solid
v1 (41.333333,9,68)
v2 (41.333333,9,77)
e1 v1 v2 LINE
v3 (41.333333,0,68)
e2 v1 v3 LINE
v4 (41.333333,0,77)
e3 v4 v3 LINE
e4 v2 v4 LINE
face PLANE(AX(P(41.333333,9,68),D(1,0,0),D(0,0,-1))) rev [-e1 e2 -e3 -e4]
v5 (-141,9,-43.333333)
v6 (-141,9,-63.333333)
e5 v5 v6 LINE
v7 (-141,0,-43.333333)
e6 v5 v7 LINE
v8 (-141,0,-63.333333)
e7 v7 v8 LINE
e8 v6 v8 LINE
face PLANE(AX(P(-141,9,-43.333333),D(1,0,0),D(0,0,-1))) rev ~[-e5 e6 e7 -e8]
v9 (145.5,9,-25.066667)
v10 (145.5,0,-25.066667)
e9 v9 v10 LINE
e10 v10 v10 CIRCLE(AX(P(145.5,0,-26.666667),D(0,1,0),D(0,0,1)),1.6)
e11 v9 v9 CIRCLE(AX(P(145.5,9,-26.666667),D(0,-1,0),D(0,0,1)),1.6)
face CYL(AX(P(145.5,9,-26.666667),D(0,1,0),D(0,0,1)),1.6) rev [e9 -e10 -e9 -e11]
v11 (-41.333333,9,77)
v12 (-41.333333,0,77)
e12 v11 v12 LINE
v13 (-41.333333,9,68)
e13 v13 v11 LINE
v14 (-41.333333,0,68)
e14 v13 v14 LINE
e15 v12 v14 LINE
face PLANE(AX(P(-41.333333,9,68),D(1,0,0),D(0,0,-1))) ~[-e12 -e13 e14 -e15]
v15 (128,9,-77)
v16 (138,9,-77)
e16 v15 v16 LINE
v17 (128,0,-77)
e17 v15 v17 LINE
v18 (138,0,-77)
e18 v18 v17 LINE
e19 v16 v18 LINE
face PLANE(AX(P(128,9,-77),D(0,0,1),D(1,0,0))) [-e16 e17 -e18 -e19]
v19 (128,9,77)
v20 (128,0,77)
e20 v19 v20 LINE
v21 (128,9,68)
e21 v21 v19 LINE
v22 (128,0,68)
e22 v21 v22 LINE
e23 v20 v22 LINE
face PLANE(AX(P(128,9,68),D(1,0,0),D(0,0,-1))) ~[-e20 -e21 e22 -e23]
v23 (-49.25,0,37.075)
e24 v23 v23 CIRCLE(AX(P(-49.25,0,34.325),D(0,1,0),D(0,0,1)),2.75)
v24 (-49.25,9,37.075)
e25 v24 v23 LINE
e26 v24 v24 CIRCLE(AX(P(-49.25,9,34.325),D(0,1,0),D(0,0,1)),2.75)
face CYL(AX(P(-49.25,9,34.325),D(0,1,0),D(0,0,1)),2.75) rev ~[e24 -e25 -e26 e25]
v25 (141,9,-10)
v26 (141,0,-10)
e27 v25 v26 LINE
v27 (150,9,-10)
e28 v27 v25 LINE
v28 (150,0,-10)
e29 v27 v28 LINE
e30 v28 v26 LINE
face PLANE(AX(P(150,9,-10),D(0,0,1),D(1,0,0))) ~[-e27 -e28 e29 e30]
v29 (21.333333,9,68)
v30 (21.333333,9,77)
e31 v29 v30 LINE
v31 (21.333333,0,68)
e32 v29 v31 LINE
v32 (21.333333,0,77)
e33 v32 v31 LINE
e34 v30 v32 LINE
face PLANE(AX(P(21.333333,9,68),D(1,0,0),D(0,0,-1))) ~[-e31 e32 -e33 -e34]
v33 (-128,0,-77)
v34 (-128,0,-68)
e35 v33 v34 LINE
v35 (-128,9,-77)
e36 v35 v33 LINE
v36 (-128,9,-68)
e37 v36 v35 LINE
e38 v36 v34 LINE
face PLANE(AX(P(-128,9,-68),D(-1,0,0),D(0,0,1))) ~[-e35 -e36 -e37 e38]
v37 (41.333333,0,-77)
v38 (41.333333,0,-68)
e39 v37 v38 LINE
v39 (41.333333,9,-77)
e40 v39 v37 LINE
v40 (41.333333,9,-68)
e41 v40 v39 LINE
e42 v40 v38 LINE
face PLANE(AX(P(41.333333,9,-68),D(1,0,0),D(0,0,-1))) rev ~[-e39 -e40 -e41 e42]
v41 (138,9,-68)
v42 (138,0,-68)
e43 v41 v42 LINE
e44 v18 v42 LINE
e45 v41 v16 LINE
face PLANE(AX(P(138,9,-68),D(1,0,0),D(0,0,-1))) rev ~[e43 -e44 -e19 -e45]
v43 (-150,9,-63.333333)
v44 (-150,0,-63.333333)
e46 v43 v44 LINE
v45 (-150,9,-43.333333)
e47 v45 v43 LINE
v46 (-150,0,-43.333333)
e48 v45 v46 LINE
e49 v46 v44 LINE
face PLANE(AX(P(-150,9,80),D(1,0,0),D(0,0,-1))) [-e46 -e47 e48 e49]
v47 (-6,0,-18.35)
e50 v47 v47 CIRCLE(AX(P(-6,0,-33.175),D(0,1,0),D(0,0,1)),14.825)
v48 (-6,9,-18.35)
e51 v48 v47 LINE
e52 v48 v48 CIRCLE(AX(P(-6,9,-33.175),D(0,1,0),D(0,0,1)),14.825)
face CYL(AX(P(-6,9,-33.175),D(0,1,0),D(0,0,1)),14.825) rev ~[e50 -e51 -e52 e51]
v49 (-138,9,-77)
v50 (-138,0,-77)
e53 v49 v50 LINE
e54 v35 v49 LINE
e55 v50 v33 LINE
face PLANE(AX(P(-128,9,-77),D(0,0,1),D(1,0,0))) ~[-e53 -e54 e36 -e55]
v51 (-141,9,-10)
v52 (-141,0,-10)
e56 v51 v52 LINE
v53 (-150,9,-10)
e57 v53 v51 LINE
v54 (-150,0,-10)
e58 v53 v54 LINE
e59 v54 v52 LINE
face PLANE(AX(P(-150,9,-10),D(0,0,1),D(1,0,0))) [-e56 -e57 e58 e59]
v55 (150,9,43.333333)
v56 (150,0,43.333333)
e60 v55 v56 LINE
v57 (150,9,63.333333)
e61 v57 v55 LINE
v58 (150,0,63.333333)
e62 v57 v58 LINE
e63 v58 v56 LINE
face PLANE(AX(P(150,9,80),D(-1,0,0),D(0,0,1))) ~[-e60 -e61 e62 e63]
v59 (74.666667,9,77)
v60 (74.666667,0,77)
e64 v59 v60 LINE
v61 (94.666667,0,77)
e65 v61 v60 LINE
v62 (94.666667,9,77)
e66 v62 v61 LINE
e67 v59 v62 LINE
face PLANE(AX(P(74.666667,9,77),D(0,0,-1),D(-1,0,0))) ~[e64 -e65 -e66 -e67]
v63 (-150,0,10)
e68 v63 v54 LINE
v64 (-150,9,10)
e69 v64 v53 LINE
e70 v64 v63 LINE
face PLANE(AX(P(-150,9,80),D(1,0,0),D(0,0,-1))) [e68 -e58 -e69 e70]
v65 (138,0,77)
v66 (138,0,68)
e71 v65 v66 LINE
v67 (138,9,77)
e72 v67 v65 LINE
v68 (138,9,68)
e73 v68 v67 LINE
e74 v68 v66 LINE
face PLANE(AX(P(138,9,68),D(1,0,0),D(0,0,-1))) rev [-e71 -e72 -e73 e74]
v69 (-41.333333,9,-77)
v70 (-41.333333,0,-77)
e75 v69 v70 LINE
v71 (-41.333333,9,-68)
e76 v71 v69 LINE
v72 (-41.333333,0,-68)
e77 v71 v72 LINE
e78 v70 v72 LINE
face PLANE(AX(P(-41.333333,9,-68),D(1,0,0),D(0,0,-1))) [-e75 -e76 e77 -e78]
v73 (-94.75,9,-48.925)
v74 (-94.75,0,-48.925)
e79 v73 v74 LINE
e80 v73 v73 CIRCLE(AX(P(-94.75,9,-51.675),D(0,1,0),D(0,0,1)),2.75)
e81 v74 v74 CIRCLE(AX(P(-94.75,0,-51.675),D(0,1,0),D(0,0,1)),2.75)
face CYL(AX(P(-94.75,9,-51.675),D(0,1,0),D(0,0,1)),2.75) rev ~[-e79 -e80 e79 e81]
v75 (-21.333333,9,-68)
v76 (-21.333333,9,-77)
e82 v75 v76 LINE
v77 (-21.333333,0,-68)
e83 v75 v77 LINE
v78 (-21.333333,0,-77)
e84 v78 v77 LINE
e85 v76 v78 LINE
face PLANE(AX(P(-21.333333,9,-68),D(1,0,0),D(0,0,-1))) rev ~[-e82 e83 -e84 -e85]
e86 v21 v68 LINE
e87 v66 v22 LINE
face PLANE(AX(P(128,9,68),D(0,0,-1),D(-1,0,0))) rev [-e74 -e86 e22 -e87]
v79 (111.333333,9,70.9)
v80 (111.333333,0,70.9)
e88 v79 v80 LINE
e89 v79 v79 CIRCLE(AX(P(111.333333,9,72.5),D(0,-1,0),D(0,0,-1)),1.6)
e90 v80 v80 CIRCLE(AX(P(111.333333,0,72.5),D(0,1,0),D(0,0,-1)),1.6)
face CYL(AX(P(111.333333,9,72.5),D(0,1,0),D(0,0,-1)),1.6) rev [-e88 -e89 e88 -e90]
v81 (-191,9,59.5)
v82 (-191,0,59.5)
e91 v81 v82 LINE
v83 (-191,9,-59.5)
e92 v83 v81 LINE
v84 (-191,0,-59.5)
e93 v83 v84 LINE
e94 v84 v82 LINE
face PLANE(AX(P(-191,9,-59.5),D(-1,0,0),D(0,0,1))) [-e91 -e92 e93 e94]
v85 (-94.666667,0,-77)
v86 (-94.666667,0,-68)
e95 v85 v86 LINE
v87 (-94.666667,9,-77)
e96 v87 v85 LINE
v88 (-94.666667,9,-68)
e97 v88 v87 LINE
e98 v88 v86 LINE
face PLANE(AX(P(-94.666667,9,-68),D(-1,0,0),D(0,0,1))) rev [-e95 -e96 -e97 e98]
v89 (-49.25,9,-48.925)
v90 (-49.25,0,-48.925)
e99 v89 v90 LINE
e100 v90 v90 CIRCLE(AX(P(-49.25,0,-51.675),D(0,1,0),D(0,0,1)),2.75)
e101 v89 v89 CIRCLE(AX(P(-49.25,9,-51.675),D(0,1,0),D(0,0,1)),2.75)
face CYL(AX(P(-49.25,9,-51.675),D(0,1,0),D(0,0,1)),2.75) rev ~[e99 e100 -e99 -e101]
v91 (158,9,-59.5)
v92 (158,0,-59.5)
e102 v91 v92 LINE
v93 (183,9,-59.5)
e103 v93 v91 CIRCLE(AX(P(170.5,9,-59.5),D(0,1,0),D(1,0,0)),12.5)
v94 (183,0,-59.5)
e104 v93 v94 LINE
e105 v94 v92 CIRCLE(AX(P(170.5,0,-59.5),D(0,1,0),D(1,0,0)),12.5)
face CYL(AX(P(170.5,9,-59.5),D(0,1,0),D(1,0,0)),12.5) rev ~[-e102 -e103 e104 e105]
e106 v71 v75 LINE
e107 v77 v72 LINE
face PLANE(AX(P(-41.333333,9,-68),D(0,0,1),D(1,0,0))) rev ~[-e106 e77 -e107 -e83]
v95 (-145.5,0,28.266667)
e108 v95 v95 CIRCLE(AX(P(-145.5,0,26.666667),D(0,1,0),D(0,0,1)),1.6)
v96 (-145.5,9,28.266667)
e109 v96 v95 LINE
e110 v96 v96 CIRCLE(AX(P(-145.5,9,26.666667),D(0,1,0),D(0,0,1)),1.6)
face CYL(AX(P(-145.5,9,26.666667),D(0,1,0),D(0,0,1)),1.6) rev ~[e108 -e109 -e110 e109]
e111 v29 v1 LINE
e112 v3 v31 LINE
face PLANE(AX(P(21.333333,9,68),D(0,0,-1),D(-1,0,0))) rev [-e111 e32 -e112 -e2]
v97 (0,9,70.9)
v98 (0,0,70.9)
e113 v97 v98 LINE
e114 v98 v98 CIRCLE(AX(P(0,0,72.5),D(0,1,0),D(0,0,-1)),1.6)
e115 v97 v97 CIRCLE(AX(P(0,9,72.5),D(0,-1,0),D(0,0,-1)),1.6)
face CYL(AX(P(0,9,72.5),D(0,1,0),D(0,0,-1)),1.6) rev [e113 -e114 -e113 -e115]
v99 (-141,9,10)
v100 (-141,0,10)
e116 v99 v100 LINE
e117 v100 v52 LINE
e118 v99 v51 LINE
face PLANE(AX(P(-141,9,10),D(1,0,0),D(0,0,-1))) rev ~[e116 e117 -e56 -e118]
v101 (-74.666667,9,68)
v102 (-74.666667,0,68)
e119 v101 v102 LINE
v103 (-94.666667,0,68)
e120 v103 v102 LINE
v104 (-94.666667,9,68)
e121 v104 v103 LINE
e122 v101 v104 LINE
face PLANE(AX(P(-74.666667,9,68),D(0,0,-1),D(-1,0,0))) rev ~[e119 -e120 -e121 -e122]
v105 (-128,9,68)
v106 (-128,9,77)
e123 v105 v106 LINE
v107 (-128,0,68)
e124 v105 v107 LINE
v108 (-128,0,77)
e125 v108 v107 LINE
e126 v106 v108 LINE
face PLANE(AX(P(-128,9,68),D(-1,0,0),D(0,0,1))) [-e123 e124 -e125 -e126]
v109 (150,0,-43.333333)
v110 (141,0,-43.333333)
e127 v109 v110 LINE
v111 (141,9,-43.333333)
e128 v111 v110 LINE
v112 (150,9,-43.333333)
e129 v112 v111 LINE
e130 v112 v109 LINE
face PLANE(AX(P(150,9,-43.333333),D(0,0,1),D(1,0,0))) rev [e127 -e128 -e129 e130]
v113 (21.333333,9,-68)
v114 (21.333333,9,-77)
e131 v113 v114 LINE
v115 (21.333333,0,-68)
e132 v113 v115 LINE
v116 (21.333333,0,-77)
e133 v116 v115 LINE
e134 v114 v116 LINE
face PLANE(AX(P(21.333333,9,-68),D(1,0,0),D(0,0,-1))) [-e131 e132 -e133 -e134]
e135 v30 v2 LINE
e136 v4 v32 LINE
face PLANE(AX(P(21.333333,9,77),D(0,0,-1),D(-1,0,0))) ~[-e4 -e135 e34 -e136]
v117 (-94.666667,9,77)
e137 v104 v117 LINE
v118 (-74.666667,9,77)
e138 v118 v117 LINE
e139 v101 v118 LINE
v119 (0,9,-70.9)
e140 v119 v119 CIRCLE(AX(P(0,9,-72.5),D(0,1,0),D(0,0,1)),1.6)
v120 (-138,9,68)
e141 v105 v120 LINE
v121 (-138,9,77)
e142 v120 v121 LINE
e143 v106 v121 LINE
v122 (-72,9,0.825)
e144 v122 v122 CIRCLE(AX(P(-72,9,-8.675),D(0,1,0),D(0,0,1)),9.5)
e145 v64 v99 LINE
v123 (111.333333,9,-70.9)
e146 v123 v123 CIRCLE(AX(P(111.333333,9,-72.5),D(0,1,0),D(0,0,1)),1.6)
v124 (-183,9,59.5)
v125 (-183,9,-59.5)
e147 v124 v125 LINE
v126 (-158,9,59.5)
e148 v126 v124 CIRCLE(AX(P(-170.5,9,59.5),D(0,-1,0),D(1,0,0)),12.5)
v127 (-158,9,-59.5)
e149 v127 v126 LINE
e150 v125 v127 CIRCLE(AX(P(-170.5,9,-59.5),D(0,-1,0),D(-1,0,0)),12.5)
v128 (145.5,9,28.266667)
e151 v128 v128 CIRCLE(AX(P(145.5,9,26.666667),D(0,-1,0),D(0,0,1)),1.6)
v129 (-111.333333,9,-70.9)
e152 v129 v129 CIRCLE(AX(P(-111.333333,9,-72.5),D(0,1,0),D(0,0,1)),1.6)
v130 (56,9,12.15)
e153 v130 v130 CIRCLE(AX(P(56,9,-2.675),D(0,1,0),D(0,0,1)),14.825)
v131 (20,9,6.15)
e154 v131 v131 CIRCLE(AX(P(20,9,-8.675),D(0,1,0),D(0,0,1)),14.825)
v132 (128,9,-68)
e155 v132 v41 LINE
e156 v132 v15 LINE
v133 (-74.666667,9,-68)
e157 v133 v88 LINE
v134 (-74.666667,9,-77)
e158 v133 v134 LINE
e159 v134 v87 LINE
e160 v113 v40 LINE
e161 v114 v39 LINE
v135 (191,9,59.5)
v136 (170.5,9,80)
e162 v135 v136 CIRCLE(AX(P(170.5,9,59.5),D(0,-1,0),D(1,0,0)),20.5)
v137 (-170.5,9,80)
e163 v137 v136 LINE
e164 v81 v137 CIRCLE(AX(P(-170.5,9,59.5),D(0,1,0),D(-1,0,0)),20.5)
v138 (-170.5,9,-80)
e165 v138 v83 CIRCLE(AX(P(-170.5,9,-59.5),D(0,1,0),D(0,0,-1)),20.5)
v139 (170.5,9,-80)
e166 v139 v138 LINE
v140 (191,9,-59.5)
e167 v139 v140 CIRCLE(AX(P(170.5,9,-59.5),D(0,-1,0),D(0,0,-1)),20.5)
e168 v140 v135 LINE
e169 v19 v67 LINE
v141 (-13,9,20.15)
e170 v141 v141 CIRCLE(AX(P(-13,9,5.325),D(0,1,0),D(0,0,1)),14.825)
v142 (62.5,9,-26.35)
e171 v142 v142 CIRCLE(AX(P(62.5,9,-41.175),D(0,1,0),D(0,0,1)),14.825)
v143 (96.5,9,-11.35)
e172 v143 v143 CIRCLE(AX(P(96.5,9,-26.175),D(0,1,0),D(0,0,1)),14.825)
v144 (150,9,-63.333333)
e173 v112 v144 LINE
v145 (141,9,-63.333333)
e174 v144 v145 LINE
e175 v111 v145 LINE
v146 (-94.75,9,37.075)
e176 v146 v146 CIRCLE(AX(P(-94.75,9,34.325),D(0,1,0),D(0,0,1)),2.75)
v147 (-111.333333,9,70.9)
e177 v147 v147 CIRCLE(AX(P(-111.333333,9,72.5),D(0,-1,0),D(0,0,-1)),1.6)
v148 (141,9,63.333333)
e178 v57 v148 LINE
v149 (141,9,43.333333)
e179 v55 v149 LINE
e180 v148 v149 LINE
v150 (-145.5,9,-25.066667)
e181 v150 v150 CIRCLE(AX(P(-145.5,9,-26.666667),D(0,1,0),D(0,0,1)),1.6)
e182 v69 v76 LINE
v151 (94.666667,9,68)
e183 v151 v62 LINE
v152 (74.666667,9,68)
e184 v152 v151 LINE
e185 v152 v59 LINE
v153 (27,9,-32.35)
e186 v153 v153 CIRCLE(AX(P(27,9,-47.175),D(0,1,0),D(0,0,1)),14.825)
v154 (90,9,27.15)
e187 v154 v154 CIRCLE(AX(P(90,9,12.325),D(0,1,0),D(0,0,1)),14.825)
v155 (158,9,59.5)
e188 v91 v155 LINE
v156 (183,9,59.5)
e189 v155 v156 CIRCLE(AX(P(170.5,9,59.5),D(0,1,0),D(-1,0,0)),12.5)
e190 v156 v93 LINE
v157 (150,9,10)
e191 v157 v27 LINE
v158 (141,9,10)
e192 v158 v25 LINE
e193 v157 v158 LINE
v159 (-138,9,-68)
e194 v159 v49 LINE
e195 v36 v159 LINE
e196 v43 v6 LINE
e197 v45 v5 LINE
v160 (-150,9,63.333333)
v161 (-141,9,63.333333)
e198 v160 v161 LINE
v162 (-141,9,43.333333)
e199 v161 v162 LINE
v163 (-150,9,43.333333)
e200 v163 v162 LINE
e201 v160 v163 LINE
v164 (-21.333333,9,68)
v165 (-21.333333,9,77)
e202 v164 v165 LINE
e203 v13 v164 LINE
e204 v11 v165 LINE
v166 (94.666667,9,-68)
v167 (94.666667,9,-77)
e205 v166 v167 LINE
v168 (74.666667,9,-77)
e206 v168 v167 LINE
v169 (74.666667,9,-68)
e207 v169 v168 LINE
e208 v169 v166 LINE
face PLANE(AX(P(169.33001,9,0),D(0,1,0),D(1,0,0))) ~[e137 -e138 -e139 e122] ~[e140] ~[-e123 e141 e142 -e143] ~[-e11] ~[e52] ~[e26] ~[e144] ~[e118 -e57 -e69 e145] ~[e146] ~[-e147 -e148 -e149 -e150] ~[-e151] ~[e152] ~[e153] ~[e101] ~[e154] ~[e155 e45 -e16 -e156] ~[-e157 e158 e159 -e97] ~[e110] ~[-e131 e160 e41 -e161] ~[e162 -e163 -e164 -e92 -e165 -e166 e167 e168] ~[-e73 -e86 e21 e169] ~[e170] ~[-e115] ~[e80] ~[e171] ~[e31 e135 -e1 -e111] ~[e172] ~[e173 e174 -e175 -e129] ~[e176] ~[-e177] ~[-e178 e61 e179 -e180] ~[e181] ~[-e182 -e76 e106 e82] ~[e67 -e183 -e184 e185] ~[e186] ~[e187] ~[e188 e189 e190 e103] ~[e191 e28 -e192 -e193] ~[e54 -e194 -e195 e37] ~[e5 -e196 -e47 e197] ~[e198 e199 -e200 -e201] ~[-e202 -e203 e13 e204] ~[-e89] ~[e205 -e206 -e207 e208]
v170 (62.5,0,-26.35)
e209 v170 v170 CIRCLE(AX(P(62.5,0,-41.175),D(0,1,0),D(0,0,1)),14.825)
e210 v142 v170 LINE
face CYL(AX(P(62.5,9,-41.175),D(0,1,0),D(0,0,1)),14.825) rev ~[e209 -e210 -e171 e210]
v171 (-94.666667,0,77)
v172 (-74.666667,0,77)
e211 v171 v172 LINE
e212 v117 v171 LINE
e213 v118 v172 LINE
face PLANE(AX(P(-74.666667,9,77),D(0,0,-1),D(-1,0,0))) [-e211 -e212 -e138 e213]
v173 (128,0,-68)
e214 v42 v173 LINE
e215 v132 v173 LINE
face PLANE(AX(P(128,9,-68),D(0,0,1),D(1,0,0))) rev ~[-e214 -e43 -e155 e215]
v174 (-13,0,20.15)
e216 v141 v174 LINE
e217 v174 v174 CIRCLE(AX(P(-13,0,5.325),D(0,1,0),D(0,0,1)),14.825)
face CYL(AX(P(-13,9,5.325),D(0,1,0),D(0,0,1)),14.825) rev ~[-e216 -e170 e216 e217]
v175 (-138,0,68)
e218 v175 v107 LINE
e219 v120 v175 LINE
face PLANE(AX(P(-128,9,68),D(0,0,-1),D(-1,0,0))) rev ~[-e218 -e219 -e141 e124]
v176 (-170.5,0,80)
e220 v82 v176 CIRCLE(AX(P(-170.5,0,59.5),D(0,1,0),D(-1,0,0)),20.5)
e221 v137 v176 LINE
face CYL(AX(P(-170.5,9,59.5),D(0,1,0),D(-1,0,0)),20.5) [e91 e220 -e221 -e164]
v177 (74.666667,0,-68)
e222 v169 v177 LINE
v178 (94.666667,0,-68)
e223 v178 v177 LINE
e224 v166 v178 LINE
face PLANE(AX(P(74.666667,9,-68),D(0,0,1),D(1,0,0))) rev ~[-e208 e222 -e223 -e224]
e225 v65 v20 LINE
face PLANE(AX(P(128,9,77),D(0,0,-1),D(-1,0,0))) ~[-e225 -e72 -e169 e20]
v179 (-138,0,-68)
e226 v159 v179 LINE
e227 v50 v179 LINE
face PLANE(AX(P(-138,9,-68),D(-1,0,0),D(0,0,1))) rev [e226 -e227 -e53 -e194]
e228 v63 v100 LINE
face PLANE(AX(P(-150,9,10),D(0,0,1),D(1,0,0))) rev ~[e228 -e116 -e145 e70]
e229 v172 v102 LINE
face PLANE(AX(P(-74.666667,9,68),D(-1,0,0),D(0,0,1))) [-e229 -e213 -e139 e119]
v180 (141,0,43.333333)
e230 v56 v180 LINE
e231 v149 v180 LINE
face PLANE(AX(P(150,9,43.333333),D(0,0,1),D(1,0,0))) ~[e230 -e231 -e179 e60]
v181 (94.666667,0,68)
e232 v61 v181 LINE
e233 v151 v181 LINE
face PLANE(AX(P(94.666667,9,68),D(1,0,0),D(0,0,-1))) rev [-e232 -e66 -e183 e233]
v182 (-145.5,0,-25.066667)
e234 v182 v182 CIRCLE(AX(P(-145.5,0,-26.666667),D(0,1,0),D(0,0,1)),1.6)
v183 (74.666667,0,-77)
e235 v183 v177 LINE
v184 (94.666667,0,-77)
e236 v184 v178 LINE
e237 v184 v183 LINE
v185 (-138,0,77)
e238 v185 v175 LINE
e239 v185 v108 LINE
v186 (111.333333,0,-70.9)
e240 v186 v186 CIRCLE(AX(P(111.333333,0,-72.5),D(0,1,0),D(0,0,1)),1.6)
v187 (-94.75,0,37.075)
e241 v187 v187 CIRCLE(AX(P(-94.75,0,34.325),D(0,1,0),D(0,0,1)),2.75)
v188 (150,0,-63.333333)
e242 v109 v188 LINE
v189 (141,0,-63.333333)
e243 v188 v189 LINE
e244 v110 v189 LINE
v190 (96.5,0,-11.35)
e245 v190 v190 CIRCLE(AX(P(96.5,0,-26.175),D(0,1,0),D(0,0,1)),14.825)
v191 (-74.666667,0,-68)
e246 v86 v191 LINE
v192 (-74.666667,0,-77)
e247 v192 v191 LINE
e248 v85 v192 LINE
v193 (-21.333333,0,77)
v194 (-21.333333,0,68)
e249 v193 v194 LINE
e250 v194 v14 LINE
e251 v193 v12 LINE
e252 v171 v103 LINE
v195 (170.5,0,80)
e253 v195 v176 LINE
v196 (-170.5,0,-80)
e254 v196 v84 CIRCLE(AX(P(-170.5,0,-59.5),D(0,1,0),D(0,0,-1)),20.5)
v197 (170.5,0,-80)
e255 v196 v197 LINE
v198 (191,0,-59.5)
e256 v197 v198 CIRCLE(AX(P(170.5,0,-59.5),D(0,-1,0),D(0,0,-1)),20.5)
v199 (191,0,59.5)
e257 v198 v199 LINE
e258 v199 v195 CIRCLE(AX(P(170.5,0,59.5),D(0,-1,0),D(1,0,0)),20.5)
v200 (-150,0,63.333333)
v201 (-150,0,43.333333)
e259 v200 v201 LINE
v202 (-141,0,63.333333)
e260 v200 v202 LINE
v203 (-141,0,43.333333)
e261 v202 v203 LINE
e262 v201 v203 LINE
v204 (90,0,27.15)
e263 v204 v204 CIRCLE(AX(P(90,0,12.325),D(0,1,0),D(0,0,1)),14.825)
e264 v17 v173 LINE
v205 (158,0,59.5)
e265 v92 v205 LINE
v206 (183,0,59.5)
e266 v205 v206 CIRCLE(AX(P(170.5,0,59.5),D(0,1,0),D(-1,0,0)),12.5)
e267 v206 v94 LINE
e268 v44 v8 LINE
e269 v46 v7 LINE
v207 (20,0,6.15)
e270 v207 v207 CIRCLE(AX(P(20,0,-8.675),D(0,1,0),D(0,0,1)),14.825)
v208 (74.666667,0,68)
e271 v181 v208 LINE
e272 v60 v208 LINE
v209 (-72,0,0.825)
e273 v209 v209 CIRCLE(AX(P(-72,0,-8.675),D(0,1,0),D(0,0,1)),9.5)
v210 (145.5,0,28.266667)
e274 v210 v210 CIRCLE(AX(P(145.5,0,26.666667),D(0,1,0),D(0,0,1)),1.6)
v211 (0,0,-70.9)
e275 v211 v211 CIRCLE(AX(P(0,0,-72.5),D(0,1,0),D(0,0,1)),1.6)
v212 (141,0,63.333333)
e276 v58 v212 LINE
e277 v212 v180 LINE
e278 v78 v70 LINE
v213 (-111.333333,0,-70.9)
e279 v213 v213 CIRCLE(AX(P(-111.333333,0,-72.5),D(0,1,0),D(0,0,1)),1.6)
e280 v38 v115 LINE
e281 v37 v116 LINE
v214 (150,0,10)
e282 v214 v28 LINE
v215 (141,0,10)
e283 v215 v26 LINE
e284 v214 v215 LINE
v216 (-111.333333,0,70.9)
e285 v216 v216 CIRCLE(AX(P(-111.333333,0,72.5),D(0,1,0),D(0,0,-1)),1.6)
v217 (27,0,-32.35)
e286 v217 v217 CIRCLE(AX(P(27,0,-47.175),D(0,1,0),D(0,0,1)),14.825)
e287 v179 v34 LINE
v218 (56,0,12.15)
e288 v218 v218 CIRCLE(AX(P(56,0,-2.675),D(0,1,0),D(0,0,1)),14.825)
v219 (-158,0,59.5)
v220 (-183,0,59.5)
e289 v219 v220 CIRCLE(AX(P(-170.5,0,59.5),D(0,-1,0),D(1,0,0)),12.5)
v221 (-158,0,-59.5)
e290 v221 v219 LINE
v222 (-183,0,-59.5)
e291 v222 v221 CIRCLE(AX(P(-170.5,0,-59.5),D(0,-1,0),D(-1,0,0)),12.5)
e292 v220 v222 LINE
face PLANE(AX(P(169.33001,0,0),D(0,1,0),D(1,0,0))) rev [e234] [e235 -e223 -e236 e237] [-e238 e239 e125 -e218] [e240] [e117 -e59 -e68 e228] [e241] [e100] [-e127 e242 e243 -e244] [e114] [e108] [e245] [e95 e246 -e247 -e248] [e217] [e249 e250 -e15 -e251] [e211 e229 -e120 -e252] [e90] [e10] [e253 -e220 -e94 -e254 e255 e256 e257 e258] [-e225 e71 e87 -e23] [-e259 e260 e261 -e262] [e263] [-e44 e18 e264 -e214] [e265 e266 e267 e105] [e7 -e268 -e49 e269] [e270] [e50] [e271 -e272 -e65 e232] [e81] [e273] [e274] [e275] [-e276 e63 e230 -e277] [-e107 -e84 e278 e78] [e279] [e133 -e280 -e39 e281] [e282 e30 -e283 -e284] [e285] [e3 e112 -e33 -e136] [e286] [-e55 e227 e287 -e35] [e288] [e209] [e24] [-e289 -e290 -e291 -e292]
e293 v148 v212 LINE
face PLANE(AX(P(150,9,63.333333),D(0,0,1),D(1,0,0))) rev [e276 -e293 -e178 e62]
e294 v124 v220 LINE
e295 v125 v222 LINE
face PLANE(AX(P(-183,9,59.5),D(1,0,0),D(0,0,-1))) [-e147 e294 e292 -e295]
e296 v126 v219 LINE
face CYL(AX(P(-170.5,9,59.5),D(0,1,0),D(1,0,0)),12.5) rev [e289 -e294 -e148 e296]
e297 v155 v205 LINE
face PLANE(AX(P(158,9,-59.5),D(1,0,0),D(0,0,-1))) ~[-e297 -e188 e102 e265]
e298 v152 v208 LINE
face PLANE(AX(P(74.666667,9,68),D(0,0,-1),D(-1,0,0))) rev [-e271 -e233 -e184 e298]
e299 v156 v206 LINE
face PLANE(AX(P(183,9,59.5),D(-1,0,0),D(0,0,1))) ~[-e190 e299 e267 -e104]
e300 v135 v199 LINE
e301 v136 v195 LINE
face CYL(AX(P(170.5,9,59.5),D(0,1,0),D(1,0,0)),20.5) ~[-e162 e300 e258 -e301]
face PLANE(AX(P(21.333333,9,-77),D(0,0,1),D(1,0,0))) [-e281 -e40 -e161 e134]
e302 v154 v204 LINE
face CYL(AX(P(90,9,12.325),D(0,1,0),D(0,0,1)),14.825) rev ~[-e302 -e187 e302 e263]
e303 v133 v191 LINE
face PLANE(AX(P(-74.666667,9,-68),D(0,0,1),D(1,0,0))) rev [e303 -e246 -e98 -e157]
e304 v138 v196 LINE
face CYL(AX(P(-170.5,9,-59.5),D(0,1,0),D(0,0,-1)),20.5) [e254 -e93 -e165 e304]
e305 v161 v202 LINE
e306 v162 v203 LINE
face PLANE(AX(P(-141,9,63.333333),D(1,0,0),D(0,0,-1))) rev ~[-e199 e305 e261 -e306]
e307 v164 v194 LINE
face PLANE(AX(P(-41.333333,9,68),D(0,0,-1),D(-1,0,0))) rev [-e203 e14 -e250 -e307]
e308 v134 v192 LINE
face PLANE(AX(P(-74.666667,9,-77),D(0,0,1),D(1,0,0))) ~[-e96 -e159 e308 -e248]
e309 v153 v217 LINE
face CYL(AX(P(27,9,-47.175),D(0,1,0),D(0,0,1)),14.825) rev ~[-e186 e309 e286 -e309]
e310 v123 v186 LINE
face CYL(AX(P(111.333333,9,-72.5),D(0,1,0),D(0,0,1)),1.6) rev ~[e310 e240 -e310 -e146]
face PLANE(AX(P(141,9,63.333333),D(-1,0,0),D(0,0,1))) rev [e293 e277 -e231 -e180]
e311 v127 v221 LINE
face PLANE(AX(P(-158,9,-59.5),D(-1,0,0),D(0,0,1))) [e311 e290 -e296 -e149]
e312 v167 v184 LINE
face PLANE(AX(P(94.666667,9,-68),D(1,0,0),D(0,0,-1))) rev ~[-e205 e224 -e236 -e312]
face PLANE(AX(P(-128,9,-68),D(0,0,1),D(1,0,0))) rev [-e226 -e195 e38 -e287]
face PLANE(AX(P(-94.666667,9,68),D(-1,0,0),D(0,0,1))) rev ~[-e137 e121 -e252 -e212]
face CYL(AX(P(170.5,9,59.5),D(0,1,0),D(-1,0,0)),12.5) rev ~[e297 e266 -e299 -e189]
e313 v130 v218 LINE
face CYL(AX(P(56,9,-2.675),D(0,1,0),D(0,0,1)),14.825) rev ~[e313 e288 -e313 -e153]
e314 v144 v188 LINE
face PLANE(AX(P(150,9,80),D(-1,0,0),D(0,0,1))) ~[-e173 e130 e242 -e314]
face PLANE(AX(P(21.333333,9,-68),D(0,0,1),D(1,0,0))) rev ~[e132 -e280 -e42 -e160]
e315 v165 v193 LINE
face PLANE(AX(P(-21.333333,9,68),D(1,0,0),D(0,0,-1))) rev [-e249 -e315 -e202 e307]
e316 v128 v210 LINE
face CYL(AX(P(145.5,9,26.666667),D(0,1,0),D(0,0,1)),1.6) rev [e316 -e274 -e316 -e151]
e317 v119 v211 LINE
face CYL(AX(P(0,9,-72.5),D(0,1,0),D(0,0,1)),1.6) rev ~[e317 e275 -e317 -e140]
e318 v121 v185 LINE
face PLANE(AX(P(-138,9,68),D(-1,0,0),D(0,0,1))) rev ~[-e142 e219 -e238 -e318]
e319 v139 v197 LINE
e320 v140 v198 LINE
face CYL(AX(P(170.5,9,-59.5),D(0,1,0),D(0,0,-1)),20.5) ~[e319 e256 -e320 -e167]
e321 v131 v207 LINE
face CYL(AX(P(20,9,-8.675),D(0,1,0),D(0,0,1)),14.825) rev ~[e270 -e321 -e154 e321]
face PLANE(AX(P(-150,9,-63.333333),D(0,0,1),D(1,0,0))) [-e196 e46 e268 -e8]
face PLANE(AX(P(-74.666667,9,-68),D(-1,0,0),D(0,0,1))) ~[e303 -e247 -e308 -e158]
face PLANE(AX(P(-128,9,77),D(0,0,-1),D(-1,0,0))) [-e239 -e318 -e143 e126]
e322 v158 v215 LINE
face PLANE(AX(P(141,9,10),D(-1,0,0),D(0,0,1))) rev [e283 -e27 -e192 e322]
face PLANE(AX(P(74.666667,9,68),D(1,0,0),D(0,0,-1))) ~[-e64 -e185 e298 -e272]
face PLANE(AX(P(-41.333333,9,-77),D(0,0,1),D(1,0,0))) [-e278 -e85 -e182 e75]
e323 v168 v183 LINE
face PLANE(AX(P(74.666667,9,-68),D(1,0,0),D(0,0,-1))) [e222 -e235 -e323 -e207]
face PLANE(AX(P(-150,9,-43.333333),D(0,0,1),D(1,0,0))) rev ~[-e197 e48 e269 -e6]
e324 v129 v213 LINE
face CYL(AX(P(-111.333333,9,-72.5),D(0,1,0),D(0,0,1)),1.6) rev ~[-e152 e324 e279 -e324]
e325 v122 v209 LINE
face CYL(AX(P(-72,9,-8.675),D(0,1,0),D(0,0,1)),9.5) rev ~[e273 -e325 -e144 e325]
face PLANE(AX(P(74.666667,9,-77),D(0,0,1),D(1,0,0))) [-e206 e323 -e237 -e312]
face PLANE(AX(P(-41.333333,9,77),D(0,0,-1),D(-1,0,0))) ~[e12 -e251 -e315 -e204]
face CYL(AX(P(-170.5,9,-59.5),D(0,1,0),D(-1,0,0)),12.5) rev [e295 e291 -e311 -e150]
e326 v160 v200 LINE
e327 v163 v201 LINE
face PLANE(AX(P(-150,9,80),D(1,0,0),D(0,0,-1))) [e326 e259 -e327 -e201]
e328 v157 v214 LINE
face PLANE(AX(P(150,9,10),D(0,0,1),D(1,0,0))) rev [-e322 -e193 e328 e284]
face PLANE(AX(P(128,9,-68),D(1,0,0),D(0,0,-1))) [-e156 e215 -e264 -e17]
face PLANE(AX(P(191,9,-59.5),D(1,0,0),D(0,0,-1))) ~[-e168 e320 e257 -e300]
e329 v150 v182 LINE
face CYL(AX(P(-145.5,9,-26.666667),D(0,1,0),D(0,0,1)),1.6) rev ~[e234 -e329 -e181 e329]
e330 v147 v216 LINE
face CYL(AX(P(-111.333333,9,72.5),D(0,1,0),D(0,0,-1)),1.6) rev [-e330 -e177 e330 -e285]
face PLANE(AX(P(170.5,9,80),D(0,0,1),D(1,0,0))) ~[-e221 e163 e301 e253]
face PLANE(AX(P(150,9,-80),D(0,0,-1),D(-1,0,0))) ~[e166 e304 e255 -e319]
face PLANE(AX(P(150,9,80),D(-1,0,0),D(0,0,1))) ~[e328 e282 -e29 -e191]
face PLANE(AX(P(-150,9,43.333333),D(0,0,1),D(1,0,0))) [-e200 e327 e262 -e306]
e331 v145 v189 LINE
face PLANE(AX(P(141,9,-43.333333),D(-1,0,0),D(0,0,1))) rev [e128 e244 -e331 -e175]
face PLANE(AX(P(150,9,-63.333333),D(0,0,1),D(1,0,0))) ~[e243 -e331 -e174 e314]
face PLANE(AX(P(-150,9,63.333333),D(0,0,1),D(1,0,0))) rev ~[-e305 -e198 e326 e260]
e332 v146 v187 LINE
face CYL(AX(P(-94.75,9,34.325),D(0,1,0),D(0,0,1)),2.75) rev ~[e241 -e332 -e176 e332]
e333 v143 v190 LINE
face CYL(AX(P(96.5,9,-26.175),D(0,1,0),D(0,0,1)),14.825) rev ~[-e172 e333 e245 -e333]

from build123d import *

# Parameters (mm, degrees)
SKETCH1_W                 = 300
SKETCH1_H                 = 160
BOSS_EXTRUDE1_DEPTH       = 9
SKETCH2_R                 = 14.825
SKETCH2_R_2               = 9.5
SKETCH2_R_3               = 2.75
MAIN_BUTTONS_DEPTH        = 171.238068598
SKETCH4_R                 = 1.6
SKETCH4_W                 = 9
SKETCH4_H                 = 20
LEFT_MOUNT_DEPTH          = 171.238068598
HANDLE_DEPTH              = 9
SKETCH6_W                 = 10
SKETCH6_H                 = 9
SKETCH6_W_2               = 20
CUT_EXTRUDE1_DEPTH        = 208.272767145
SKETCH7_W                 = 20
SKETCH7_H                 = 9
CUT_EXTRUDE2_DEPTH        = 208.272767145
SKETCH8_R                 = 1.6
M3_CLEARANCE_HOLES_DEPTH  = 208.272767145
MIRROR4_COPY_1_SKETCH_W   = 10
MIRROR4_COPY_1_SKETCH_H   = 9
MIRROR4_COPY_1_SKETCH_W_2 = 20
MIRROR4_COPY_1_DEPTH      = 208.272767145


with BuildPart() as part:
    # Sketch1 → Boss-Extrude1 (new body)
    with BuildSketch(Plane(origin=(0, 0, 0), x_dir=(1, 0, 0), z_dir=(0, 1, 0))):
        Rectangle(SKETCH1_W, SKETCH1_H)
    extrude(amount=BOSS_EXTRUDE1_DEPTH)

    # Sketch2 → main buttons (cut, through all)
    with BuildSketch(Plane(origin=(0, 9, 0), x_dir=(1, 0, 0), z_dir=(0, 1, 0))):
        with Locations(Location((-13, -5.325, 0), (0, 0, 270))):
            Circle(SKETCH2_R)
        with Locations(Location((20, 8.675, 0), (0, 0, 270))):
            Circle(SKETCH2_R)
        with Locations(Location((56, 2.675, 0), (0, 0, 270))):
            Circle(SKETCH2_R)
        with Locations(Location((90, -12.325, 0), (0, 0, 270))):
            Circle(SKETCH2_R)
        with Locations(Location((-72, 8.675, 0), (0, 0, 270))):
            Circle(SKETCH2_R_2)
        with Locations(Location((-94.75, 51.675, 0), (0, 0, 270))):
            Circle(SKETCH2_R_3)
        with Locations(Location((-49.25, 51.675, 0), (0, 0, 270))):
            Circle(SKETCH2_R_3)
        with Locations(Location((-94.75, -34.325, 0), (0, 0, 270))):
            Circle(SKETCH2_R_3)
        with Locations(Location((-49.25, -34.325, 0), (0, 0, 270))):
            Circle(SKETCH2_R_3)
        with Locations(Location((-6, 33.175, 0), (0, 0, 270))):
            Circle(SKETCH2_R)
        with Locations(Location((27, 47.175, 0), (0, 0, 270))):
            Circle(SKETCH2_R)
        with Locations(Location((62.5, 41.175, 0), (0, 0, 270))):
            Circle(SKETCH2_R)
        with Locations(Location((96.5, 26.175, 0), (0, 0, 270))):
            Circle(SKETCH2_R)
    extrude(amount=-MAIN_BUTTONS_DEPTH, mode=Mode.SUBTRACT)

    # Sketch4 → left mount (cut, through all)
    with BuildSketch(Plane(origin=(0, 9, 0), x_dir=(1, 0, 0), z_dir=(0, 1, 0))):
        with Locations(Location((-145.5, -26.666666667, 0), (0, 0, 270))):
            Circle(SKETCH4_R)
        with Locations(Location((-145.5, 26.666666667, 0), (0, 0, 270))):
            Circle(SKETCH4_R)
        with Locations((-145.5, 53.333333333)):
            Rectangle(SKETCH4_W, SKETCH4_H)
        with Locations((-145.5, 0)):
            Rectangle(SKETCH4_W, SKETCH4_H)
        with Locations((-145.5, -53.333333333)):
            Rectangle(SKETCH4_W, SKETCH4_H)
    left_mount = extrude(amount=-LEFT_MOUNT_DEPTH, mode=Mode.SUBTRACT)

    # Sketch3 → handle (add)
    with BuildSketch(Plane(origin=(0, 9, 0), x_dir=(1, 0, 0), z_dir=(0, 1, 0))):
        with BuildLine():
            Line((-150, -80), (-150, 80))
            Line((-150, 80), (-170.5, 80))
            ThreePointArc((-170.5, 80), (-184.995689014, 73.995689014), (-191, 59.5))
            Line((-191, 59.5), (-191, -59.5))
            ThreePointArc((-191, -59.5), (-184.995689014, -73.995689014), (-170.5, -80))
            Line((-170.5, -80), (-150, -80))
        make_face()
        with BuildLine():
            Line((-183, -59.5), (-183, 59.5))
            ThreePointArc((-183, 59.5), (-170.5, 72), (-158, 59.5))
            Line((-158, 59.5), (-158, -59.5))
            ThreePointArc((-158, -59.5), (-170.5, -72), (-183, -59.5))
        make_face(mode=Mode.SUBTRACT)
    handle = extrude(amount=-HANDLE_DEPTH)

    # Mirror1: left mount, handle across plane
    add(left_mount.mirror(Plane(origin=(0, 0, 0), x_dir=(0, 0, 1), z_dir=(1, 0, 0))), mode=Mode.SUBTRACT)
    add(handle.mirror(Plane(origin=(0, 0, 0), x_dir=(0, 0, 1), z_dir=(1, 0, 0))))

    # Sketch6 → Cut-Extrude1 (cut, through all)
    with BuildSketch(Plane(origin=(0, 9, 0), x_dir=(1, 0, 0), z_dir=(0, 1, 0))):
        with Locations((133, 72.5)):
            Rectangle(SKETCH6_W, SKETCH6_H)
        with Locations((84.666666667, 72.5)):
            Rectangle(SKETCH6_W_2, SKETCH6_H)
    cut_extrude1 = extrude(amount=-CUT_EXTRUDE1_DEPTH, mode=Mode.SUBTRACT)

    # Mirror3: Cut-Extrude1 across plane
    add(cut_extrude1.mirror(Plane(origin=(0, 0, 0), x_dir=(0, 0, 1), z_dir=(1, 0, 0))), mode=Mode.SUBTRACT)

    # Sketch7 → Cut-Extrude2 (cut, through all)
    with BuildSketch(Plane(origin=(0, 9, 0), x_dir=(1, 0, 0), z_dir=(0, 1, 0))):
        with Locations((31.333333333, 72.5)):
            Rectangle(SKETCH7_W, SKETCH7_H)
        with Locations((-31.333333333, 72.5)):
            Rectangle(SKETCH7_W, SKETCH7_H)
    cut_extrude2 = extrude(amount=-CUT_EXTRUDE2_DEPTH, mode=Mode.SUBTRACT)

    # Sketch8 → M3 clearance holes (cut, through all)
    with BuildSketch(Plane(origin=(0, 9, 0), x_dir=(1, 0, 0), z_dir=(0, 1, 0))):
        with Locations(Location((-111.333333333, 72.5, 0), (0, 0, 270))):
            Circle(SKETCH8_R)
        with Locations(Location((0, 72.5, 0), (0, 0, 270))):
            Circle(SKETCH8_R)
        with Locations(Location((111.333333333, 72.5, 0), (0, 0, 270))):
            Circle(SKETCH8_R)
    m3_clearance_holes = extrude(amount=-M3_CLEARANCE_HOLES_DEPTH, mode=Mode.SUBTRACT)

    # Mirror4: Cut-Extrude1, Cut-Extrude2, M3 clearance holes across plane
    add(cut_extrude1.mirror(Plane.XY), mode=Mode.SUBTRACT)
    add(cut_extrude2.mirror(Plane.XY), mode=Mode.SUBTRACT)
    add(m3_clearance_holes.mirror(Plane.XY), mode=Mode.SUBTRACT)

    # Mirror4 copy 1 sketch → Mirror4 copy 1 (cut, through all)
    with BuildSketch(Plane(origin=(0, 9, 0), x_dir=(-1, 0, 0), z_dir=(0, 1, 0))):
        with Locations((133, 72.5)):
            Rectangle(MIRROR4_COPY_1_SKETCH_W, MIRROR4_COPY_1_SKETCH_H)
        with Locations((84.666666667, 72.5)):
            Rectangle(MIRROR4_COPY_1_SKETCH_W_2, MIRROR4_COPY_1_SKETCH_H)
    extrude(amount=-MIRROR4_COPY_1_DEPTH, mode=Mode.SUBTRACT)


solid = part.part
